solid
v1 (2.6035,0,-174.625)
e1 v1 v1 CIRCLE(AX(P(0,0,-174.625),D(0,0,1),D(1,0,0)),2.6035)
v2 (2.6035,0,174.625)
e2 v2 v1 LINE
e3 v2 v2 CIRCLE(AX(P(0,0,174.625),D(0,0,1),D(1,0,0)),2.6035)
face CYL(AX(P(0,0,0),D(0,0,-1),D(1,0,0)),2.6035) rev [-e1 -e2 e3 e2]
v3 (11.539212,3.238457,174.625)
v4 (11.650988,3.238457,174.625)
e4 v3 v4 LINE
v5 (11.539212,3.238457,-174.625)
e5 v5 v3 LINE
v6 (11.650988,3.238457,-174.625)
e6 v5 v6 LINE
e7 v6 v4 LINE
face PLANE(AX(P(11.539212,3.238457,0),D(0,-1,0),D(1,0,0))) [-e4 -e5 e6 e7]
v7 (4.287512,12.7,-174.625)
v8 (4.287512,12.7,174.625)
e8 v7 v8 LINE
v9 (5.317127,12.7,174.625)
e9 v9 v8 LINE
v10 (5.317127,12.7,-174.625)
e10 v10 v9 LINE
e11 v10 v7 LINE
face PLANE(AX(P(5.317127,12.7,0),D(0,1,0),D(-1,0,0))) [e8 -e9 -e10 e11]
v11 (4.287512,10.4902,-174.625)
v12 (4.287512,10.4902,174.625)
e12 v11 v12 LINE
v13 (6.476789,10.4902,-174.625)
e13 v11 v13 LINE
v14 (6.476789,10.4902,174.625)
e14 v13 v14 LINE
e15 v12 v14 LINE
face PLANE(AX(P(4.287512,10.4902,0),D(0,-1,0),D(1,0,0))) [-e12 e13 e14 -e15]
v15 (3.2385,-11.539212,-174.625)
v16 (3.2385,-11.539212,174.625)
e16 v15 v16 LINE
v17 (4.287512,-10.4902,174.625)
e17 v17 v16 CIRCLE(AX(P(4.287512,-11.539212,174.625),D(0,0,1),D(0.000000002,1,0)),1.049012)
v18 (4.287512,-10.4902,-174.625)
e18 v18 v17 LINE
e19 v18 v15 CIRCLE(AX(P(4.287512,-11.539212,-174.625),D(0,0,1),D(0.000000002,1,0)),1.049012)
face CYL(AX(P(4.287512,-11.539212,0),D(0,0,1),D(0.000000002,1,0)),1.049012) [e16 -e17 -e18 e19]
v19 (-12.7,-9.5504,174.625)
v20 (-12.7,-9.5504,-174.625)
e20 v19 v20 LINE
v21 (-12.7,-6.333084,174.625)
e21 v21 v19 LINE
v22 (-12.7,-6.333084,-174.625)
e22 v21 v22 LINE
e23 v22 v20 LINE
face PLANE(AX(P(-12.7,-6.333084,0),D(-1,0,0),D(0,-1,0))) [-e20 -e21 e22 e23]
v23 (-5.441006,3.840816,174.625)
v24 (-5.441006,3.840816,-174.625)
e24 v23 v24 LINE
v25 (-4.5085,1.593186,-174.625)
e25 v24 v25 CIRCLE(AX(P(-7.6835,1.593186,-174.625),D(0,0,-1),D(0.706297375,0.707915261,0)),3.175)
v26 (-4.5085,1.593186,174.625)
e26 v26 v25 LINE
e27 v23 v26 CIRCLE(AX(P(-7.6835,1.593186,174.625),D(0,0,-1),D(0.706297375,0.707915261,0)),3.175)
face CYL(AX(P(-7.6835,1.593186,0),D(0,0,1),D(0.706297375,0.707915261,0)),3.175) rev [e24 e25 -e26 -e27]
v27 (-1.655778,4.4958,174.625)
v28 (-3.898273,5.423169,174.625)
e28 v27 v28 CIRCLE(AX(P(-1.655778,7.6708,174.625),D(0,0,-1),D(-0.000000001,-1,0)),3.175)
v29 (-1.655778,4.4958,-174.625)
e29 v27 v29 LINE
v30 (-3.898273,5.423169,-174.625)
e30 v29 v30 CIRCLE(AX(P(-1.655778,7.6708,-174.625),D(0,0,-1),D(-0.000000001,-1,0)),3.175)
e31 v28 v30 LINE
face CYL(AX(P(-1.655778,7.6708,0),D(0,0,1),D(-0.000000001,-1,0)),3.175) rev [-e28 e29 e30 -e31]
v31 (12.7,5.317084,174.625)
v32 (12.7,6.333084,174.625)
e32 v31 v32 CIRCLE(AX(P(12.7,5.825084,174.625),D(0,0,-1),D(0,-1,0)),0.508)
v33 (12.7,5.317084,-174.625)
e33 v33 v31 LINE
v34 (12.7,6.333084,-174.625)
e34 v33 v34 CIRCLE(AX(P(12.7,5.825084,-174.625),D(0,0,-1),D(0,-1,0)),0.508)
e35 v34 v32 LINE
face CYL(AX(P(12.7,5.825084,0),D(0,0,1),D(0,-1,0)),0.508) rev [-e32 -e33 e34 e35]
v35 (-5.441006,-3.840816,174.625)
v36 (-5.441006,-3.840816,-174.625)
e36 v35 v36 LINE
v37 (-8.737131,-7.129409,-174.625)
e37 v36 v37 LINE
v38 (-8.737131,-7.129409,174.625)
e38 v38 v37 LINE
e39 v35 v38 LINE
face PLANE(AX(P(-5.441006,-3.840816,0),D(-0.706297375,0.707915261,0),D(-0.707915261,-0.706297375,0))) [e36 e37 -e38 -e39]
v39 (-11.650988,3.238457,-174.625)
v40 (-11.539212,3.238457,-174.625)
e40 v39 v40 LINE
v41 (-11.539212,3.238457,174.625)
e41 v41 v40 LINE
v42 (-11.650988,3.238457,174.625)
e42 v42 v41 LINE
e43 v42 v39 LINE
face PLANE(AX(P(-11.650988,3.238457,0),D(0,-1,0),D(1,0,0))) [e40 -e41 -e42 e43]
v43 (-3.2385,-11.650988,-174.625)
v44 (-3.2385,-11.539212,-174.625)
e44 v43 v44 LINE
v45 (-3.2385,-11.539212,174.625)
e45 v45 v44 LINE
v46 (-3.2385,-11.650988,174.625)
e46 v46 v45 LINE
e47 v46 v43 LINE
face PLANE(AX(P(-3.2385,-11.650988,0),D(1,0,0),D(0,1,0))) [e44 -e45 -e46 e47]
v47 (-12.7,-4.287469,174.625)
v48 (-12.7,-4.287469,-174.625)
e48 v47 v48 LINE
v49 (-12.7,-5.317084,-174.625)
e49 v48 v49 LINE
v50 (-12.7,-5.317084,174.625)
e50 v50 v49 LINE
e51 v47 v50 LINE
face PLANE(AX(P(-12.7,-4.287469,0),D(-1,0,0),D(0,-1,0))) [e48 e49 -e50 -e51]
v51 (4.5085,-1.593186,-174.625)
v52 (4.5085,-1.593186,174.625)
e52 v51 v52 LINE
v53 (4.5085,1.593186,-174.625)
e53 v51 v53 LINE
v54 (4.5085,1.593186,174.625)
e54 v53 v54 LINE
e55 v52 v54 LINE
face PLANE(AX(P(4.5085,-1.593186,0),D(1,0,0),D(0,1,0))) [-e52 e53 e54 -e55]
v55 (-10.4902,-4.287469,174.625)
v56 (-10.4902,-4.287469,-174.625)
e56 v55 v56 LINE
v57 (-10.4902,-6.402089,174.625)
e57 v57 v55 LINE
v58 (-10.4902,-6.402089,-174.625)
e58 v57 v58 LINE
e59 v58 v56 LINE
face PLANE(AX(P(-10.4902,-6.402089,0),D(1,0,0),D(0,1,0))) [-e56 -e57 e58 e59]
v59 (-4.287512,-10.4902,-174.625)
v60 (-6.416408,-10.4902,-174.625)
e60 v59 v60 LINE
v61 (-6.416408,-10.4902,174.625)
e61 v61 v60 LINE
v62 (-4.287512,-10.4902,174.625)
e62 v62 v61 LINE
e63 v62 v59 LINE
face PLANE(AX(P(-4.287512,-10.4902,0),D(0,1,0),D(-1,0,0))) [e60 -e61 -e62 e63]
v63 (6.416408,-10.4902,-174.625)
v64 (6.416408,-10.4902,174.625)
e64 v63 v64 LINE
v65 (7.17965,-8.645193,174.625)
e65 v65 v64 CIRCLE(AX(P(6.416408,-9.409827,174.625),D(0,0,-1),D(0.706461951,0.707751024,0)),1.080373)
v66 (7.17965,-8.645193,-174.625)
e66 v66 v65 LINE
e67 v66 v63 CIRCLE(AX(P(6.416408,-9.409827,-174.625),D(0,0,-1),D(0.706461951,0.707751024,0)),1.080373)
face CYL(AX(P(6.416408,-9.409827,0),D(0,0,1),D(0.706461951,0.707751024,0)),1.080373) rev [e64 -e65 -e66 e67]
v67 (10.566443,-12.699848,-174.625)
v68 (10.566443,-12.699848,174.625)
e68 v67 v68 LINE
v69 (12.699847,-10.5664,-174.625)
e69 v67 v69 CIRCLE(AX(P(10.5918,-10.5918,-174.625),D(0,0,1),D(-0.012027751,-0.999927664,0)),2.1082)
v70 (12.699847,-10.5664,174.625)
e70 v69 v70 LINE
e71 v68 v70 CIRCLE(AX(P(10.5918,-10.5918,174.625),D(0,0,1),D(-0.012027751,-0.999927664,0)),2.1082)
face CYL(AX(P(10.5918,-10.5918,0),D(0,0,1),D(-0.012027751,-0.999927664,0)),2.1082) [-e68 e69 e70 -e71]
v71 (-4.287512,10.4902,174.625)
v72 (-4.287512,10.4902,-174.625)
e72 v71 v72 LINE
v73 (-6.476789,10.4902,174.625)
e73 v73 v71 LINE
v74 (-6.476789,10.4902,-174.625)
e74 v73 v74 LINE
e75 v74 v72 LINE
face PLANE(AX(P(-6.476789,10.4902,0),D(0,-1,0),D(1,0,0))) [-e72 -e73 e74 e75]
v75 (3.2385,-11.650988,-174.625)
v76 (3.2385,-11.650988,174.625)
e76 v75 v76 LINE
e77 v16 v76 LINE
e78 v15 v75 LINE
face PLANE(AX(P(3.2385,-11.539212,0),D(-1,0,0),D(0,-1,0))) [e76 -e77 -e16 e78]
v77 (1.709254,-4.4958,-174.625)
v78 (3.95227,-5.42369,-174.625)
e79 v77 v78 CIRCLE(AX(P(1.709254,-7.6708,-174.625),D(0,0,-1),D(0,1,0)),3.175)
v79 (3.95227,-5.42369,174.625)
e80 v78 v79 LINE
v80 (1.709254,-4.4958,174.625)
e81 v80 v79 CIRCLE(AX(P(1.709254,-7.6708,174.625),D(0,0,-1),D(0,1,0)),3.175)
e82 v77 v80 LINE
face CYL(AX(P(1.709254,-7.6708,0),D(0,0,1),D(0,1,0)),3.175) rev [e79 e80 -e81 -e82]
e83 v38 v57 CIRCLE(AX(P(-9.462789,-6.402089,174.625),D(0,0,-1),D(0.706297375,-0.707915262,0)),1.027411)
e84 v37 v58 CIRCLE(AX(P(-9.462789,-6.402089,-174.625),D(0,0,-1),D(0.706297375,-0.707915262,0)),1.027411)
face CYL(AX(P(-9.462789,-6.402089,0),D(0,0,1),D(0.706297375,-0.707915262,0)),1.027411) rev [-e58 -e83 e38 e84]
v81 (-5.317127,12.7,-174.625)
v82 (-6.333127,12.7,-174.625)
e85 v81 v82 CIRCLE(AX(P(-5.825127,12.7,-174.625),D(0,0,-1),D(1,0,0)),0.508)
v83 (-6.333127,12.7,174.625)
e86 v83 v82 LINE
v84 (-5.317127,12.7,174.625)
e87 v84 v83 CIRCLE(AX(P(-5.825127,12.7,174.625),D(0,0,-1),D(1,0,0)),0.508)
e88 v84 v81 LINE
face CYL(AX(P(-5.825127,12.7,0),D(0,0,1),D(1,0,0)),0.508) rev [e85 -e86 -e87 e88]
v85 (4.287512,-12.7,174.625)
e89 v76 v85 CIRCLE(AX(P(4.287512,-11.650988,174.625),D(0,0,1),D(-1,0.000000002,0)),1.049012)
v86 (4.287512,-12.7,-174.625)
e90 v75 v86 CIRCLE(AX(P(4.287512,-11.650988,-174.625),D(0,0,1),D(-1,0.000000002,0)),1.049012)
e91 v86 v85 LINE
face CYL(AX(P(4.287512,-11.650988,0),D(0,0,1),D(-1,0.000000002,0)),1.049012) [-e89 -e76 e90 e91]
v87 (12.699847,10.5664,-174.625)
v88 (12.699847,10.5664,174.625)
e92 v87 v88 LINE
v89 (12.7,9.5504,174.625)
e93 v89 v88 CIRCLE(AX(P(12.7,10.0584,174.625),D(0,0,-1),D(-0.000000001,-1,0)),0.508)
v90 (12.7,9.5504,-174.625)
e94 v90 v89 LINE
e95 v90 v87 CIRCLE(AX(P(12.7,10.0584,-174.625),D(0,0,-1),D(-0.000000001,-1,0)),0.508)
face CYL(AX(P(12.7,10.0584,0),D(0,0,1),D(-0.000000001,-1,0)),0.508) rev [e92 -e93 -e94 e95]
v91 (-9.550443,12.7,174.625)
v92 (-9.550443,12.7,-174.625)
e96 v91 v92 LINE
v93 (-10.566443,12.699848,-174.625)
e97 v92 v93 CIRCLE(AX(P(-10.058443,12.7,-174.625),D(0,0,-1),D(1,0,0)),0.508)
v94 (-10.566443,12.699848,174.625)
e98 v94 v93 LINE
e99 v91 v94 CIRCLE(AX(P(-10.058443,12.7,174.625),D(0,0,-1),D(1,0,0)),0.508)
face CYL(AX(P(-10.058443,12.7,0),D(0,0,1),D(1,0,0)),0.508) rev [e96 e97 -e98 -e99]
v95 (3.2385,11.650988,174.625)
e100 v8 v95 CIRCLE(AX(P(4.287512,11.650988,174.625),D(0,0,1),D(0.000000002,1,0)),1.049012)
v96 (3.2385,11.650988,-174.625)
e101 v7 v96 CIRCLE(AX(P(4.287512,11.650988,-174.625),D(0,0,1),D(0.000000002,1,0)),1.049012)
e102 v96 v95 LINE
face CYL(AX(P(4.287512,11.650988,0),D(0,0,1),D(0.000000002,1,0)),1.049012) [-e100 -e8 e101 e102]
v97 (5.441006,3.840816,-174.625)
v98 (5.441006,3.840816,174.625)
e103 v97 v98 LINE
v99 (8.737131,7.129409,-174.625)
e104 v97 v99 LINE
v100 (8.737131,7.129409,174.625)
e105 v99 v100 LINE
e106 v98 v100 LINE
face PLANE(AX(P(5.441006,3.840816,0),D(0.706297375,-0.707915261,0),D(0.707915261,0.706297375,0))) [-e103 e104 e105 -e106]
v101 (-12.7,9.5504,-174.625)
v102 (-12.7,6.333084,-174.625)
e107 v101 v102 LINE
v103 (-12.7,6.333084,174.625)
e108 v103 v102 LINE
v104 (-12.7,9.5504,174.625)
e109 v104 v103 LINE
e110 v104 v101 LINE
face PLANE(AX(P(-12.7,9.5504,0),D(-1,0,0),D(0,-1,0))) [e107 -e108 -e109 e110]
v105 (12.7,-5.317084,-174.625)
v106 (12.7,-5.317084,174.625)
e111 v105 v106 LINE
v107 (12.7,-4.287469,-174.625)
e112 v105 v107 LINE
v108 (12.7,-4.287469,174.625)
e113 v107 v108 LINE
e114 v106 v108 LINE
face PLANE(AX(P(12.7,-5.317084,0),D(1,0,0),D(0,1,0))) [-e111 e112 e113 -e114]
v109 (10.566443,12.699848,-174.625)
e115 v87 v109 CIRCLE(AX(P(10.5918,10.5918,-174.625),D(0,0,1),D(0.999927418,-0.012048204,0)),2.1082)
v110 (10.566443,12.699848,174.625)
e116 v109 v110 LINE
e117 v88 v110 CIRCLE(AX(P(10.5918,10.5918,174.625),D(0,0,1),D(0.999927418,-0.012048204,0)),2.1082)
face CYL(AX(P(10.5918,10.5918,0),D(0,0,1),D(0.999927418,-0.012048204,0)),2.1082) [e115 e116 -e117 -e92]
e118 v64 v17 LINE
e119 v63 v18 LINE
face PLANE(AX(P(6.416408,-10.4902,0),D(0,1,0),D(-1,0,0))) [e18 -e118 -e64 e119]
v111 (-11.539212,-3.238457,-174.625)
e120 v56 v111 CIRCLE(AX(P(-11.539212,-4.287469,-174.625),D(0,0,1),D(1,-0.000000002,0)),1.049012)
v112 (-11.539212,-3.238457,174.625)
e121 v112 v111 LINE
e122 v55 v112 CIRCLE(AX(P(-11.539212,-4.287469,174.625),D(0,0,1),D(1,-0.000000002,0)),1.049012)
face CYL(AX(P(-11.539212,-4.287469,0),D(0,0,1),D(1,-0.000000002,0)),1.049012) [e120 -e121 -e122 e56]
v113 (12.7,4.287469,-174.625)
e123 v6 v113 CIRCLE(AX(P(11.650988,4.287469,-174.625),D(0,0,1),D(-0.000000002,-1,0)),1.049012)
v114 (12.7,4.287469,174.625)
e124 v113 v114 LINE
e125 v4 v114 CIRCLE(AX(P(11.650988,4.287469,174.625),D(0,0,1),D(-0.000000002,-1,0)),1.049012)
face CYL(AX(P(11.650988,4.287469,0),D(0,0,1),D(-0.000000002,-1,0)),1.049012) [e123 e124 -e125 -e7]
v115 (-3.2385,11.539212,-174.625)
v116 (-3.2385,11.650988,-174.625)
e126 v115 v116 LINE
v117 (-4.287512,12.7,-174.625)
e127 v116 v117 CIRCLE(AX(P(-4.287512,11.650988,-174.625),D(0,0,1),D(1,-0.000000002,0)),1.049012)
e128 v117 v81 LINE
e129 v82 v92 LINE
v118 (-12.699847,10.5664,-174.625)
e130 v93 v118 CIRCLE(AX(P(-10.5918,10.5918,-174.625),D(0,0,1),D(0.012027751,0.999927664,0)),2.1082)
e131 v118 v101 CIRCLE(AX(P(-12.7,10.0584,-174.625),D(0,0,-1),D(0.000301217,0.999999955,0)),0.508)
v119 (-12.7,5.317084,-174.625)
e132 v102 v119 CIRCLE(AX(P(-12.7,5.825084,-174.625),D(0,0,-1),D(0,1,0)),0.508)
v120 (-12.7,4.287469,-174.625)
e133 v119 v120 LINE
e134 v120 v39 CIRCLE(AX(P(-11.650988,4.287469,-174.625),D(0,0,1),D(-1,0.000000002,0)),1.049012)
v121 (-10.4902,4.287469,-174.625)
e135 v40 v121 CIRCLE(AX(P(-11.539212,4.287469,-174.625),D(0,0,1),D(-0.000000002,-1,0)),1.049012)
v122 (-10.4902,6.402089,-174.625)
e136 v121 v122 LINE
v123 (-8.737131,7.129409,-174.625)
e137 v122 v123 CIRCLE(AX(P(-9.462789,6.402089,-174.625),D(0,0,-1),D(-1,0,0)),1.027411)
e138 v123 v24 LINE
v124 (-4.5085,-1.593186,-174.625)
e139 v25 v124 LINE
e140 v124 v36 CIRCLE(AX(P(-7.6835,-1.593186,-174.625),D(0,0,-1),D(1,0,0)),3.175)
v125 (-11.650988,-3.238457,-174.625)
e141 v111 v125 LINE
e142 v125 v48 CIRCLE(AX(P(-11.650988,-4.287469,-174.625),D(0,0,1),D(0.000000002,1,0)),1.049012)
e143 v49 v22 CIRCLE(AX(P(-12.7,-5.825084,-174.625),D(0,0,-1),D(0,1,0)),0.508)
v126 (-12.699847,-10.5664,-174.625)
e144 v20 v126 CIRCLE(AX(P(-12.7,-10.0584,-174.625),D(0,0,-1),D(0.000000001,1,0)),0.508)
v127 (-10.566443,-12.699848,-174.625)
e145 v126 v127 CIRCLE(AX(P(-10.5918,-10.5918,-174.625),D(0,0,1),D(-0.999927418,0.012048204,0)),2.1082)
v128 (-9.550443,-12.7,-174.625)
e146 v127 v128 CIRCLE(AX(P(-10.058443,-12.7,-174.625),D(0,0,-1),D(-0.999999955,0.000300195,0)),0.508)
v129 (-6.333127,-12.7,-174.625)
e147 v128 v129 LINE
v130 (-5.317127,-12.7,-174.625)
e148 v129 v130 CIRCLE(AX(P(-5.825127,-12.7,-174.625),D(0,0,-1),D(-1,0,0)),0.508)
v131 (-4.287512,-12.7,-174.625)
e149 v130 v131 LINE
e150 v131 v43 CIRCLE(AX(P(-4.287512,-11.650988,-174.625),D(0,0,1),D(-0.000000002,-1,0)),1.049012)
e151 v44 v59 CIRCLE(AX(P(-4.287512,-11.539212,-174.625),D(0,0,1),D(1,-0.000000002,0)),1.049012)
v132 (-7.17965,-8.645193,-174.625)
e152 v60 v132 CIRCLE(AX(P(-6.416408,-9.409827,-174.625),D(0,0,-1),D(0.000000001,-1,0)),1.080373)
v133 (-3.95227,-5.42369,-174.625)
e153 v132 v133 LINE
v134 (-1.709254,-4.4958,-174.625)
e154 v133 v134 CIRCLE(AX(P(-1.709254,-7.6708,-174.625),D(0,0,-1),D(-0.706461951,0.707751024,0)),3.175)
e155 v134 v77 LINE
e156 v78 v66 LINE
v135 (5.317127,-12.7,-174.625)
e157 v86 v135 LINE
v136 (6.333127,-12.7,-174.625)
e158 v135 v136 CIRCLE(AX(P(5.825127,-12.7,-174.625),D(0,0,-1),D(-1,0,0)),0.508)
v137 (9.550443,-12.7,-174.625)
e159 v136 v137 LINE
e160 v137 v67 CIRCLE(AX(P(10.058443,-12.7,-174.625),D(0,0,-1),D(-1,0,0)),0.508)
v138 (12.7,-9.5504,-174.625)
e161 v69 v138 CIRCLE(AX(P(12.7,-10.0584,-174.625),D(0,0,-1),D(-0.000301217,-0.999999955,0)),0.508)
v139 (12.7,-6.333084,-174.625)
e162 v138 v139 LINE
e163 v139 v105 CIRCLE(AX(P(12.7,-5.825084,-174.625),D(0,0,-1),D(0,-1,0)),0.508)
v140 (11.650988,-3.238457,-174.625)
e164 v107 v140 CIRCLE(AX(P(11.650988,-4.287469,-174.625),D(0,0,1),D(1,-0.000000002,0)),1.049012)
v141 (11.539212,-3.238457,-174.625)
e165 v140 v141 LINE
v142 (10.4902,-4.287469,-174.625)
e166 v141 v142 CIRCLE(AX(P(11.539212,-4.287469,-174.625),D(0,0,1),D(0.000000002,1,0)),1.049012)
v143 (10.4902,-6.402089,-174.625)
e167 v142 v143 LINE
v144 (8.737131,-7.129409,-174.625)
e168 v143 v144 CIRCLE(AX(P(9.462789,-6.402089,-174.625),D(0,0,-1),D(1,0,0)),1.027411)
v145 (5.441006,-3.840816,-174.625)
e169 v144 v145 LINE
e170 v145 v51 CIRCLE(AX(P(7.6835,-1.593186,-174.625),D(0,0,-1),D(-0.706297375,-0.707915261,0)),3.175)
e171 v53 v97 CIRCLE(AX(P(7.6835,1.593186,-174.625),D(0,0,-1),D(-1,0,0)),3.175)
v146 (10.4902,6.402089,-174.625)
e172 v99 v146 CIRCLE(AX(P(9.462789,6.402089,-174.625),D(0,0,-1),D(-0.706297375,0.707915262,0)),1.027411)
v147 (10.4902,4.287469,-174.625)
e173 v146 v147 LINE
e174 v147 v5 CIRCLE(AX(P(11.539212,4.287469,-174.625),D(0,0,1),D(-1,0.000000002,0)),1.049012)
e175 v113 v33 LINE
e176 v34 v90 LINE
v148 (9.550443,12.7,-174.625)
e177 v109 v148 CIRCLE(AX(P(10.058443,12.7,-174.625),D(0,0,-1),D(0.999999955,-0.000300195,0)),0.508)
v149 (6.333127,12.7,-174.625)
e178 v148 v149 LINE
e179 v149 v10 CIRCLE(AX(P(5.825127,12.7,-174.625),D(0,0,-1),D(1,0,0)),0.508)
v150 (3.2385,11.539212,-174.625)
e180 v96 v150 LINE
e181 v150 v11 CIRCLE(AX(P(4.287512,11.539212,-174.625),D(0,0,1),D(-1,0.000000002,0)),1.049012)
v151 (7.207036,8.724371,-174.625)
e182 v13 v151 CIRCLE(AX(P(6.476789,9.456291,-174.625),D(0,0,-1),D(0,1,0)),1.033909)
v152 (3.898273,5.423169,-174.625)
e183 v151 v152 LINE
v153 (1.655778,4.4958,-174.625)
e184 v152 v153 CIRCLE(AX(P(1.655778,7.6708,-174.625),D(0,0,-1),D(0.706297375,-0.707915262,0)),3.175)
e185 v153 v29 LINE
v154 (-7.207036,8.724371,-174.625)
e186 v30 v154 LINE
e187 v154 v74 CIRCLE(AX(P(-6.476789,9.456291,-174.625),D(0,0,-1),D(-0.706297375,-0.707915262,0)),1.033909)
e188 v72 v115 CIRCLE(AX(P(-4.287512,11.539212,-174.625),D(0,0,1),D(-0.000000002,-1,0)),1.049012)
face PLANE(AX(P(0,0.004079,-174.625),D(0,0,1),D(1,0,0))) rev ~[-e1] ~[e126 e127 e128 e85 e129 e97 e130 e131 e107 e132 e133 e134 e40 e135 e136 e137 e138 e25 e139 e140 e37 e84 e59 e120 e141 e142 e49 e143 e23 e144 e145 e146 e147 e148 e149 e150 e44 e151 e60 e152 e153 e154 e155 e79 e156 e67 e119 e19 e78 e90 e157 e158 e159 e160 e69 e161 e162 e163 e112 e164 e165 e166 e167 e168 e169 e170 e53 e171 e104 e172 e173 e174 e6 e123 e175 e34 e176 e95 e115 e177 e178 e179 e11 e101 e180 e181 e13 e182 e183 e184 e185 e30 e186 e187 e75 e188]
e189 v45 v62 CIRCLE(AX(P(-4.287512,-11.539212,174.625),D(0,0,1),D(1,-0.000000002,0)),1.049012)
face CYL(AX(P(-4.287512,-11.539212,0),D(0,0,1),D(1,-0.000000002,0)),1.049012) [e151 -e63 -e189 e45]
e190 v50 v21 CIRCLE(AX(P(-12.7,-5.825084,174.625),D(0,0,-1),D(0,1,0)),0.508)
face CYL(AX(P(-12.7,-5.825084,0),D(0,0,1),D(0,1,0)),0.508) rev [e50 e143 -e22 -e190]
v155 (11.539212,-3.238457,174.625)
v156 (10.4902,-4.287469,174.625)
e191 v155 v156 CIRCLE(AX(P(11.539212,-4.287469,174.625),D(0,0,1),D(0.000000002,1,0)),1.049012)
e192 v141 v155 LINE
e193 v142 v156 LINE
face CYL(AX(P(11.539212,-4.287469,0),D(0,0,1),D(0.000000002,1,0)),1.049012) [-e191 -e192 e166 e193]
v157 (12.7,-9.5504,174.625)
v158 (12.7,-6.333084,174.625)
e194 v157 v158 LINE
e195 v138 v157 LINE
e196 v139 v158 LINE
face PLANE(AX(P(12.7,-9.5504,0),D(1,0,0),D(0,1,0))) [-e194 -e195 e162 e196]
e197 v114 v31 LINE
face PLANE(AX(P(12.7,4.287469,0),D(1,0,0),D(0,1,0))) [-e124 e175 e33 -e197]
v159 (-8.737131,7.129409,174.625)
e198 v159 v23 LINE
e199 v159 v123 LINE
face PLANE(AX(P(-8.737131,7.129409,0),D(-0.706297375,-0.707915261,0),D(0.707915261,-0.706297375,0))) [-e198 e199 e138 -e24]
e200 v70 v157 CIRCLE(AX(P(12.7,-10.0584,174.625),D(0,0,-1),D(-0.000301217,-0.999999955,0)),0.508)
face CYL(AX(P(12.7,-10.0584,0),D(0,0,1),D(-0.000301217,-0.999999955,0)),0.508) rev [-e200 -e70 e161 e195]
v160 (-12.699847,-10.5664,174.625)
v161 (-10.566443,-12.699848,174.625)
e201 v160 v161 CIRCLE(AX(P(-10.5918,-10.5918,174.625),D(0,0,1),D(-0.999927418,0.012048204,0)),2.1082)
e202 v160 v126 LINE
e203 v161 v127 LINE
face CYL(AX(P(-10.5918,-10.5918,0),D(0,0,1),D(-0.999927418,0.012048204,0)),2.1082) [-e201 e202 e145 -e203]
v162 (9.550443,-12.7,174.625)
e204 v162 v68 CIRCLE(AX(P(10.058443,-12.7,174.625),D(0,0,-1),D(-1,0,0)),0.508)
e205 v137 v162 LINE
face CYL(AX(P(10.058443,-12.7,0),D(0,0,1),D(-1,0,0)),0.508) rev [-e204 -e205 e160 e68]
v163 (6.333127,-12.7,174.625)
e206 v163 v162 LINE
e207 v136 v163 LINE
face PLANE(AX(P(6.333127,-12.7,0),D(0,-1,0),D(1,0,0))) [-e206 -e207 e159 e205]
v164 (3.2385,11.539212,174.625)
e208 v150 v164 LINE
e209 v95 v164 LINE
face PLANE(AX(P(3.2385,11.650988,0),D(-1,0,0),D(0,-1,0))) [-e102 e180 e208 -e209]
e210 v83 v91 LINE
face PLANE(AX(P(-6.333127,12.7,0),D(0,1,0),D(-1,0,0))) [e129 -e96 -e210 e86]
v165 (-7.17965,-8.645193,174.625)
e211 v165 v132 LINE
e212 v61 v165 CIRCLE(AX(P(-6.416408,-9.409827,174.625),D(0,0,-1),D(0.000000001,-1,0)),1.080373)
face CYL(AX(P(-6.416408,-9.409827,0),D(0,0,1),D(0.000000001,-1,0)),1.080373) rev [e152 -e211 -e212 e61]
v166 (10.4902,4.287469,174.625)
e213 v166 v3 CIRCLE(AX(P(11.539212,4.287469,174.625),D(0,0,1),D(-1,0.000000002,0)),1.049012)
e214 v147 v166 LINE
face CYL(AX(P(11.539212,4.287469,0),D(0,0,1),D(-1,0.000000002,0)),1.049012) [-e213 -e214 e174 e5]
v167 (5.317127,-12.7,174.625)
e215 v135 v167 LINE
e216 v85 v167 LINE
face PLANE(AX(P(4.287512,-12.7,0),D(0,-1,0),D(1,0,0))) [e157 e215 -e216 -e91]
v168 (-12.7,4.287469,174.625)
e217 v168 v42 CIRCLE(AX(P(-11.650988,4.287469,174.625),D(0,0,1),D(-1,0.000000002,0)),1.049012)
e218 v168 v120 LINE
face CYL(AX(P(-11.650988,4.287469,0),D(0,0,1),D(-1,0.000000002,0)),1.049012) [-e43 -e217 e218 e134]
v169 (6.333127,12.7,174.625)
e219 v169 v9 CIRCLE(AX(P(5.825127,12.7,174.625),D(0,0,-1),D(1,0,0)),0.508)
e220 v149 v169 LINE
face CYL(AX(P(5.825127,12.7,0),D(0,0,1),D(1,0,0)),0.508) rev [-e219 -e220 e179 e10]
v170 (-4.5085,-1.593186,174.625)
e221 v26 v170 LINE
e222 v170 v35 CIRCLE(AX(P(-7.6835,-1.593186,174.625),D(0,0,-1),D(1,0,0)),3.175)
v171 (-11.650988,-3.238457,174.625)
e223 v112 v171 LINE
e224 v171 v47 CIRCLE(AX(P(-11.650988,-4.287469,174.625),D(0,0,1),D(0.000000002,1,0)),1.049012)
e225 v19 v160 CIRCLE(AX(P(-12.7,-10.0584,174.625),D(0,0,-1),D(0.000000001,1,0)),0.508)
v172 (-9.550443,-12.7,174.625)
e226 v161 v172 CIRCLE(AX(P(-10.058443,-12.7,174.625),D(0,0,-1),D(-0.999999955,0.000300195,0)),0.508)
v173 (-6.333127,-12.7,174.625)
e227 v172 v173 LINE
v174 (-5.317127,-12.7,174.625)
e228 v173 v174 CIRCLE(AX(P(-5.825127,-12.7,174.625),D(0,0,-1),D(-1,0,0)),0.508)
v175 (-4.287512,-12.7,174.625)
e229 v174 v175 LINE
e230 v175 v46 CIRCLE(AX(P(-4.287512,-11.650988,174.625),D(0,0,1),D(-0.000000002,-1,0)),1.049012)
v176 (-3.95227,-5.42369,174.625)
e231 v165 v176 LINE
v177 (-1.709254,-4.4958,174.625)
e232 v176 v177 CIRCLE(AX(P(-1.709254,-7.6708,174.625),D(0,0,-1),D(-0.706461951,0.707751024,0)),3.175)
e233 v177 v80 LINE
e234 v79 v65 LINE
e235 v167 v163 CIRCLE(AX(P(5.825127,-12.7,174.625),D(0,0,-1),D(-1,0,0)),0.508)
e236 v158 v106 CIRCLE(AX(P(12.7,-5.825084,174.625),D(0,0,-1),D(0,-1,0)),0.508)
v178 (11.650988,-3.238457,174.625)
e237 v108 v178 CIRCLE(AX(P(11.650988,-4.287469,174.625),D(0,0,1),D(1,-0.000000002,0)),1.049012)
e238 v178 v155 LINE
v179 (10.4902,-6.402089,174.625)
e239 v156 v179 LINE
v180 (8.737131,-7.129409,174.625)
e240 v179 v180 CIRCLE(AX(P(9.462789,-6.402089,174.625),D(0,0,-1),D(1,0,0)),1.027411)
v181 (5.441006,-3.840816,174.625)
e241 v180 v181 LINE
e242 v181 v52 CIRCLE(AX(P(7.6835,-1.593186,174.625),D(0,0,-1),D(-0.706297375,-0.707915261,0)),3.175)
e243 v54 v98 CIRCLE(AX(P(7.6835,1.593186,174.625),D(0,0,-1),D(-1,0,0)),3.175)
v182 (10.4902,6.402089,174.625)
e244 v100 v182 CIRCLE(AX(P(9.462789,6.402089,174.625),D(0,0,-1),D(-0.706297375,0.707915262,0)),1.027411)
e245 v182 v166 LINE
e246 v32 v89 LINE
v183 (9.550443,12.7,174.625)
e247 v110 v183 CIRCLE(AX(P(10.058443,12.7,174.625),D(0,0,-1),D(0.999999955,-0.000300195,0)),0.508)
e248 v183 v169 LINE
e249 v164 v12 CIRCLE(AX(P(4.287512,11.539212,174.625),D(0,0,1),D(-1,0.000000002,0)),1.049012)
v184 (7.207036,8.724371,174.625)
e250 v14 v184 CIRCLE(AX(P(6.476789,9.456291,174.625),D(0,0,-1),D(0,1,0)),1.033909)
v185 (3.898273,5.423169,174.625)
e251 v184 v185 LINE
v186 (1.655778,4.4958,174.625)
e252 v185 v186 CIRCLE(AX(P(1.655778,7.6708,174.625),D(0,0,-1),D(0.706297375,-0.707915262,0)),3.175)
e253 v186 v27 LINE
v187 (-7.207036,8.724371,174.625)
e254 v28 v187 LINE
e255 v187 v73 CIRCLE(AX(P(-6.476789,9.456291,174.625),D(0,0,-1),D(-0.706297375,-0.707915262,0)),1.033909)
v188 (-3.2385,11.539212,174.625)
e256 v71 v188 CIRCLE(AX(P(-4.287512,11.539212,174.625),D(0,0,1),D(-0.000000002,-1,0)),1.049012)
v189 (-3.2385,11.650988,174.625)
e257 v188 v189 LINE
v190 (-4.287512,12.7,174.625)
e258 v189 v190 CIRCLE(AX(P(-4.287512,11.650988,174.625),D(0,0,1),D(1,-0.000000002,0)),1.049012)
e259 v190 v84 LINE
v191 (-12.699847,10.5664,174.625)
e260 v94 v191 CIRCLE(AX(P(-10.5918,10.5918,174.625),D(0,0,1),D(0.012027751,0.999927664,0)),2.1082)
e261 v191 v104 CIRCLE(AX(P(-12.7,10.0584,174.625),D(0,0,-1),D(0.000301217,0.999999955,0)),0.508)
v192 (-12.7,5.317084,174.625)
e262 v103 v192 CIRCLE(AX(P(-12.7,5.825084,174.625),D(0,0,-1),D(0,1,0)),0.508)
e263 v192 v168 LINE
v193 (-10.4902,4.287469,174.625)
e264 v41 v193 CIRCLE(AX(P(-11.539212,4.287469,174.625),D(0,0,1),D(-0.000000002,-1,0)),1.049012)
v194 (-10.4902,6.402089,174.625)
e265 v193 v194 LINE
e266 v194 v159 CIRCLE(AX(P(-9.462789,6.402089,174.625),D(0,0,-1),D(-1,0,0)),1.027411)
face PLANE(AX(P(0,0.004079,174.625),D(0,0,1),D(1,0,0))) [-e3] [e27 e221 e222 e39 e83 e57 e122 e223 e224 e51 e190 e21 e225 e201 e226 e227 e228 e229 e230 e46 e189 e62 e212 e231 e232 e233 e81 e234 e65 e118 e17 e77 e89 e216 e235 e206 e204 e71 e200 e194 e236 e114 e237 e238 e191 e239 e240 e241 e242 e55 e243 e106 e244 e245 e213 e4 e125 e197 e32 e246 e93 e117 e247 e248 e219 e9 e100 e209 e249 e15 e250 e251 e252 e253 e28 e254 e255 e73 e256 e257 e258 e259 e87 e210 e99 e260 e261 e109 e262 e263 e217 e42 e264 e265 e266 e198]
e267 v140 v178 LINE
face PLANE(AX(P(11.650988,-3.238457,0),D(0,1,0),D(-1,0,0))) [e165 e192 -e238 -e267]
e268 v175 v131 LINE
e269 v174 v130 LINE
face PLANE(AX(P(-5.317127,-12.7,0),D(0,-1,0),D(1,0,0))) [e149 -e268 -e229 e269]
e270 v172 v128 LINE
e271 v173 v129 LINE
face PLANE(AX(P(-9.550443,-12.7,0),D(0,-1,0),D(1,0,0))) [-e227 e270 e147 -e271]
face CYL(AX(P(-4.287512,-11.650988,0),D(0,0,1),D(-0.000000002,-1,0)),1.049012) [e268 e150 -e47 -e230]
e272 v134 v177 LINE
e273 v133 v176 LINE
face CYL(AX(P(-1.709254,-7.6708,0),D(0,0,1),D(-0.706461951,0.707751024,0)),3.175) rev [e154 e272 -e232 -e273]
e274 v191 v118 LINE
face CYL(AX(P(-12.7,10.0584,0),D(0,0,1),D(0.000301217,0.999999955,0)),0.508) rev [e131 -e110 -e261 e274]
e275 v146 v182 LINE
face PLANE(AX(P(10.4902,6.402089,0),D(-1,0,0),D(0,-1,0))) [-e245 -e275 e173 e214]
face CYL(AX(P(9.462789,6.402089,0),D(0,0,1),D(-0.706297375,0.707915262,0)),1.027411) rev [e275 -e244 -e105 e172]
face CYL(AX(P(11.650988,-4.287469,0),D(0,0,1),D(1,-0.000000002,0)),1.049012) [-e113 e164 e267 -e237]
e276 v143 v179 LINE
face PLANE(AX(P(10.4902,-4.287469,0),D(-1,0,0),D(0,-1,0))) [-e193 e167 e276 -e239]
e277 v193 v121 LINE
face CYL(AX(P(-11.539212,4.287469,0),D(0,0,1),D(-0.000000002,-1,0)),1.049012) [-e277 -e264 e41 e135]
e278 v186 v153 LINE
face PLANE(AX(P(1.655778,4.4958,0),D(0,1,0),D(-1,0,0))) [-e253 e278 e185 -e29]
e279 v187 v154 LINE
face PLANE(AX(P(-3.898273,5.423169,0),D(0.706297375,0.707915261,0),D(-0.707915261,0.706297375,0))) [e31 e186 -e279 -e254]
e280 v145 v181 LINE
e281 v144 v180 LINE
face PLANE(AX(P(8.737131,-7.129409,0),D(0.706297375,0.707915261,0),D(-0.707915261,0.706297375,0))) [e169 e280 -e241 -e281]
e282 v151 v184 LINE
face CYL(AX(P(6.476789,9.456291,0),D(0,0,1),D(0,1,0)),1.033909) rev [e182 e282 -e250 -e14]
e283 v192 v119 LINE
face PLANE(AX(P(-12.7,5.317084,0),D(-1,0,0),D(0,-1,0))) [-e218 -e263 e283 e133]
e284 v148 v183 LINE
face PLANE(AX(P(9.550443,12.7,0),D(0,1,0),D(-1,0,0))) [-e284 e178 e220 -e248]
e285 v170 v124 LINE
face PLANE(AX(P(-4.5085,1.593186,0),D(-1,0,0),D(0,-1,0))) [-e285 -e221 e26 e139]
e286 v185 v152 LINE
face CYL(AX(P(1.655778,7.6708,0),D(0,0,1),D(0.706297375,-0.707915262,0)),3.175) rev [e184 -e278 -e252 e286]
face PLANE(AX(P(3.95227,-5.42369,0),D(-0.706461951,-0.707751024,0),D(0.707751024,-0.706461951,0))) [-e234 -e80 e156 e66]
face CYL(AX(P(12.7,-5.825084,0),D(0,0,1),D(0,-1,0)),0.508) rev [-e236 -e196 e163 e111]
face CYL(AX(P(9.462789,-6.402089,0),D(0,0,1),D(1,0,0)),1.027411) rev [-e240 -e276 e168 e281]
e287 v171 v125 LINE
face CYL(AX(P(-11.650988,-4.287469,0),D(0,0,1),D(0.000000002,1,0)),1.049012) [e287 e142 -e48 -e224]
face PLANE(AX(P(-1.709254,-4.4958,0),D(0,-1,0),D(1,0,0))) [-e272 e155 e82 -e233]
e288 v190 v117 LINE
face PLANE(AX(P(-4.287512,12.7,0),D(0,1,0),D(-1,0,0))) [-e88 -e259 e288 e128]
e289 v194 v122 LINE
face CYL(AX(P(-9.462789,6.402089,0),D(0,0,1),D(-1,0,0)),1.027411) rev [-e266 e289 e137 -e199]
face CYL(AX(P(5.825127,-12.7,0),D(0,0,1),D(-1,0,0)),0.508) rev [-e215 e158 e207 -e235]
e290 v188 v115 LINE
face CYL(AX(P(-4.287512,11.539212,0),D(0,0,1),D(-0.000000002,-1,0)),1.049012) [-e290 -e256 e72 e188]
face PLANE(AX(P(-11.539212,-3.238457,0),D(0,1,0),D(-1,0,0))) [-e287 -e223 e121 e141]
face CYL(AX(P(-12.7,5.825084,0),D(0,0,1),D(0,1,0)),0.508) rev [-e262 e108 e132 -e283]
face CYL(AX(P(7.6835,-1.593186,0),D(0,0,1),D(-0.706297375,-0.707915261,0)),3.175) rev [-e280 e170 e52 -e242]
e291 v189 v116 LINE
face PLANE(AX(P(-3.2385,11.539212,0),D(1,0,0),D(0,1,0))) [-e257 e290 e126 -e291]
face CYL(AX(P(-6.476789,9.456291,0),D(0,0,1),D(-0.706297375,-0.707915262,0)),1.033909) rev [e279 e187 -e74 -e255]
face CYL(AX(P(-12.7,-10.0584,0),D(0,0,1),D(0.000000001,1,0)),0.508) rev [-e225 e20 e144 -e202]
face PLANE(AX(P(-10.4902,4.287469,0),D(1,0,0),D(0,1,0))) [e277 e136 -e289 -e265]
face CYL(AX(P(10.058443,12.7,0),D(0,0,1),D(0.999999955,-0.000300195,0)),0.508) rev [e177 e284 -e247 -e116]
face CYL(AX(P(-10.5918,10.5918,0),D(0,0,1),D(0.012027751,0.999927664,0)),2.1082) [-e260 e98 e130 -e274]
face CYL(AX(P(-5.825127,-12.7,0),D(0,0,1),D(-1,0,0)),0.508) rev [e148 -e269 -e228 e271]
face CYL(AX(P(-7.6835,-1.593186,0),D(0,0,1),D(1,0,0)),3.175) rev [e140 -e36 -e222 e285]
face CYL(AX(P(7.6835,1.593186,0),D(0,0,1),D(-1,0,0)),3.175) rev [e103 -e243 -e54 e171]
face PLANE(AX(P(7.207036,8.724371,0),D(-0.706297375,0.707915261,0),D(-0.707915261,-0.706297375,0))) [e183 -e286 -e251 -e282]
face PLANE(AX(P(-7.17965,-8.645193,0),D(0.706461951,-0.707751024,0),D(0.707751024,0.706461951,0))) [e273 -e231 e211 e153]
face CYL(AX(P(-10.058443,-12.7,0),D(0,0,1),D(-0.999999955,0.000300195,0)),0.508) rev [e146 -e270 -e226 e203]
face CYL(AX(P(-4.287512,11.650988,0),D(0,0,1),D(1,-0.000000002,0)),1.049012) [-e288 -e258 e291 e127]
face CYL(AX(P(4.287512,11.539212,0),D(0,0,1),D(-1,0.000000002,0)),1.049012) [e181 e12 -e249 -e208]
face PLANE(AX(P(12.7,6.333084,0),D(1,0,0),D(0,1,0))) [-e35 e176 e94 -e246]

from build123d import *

# Parameters (mm, degrees)
SKETCH1_R           = 2.6035
BOSS_EXTRUDE1_DEPTH = 174.625


with BuildPart() as part:
    # Sketch1 → Boss-Extrude1 (new body, symmetric)
    with BuildSketch(Plane.XY):
        with BuildLine():
            Line((-7.179650497, -8.645192506), (-3.952270251, -5.423690499))
            ThreePointArc((-3.952270251, -5.423690499), (-2.922936451, -4.736929036), (-1.709253557, -4.4958))
            Line((-1.709253557, -4.4958), (1.709253557, -4.4958))
            ThreePointArc((1.709253557, -4.4958), (2.922936451, -4.736929036), (3.952270251, -5.423690499))
            Line((3.952270251, -5.423690499), (7.179650497, -8.645192506))
            ThreePointArc((7.179650497, -8.645192506), (7.41473083, -9.822813117), (6.416408329, -10.4902))
            Line((6.416408329, -10.4902), (4.287512407, -10.4902))
            ThreePointArc((4.287512407, -10.4902), (3.54574862, -10.79744862), (3.2385, -11.539212407))
            Line((3.2385, -11.539212407), (3.2385, -11.650987593))
            ThreePointArc((3.2385, -11.650987593), (3.54574862, -12.39275138), (4.287512407, -12.7))
            Line((4.287512407, -12.7), (5.317126718, -12.7))
            ThreePointArc((5.317126718, -12.7), (5.825126718, -12.192), (6.333126718, -12.7))
            Line((6.333126718, -12.7), (9.550443118, -12.7))
            ThreePointArc((9.550443118, -12.7), (10.058366869, -12.192000006), (10.566443095, -12.699847501))
            ThreePointArc((10.566443095, -12.699847501), (12.082537762, -12.08250727), (12.699846982, -10.566399977))
            ThreePointArc((12.699846982, -10.566399977), (12.192000006, -10.058323491), (12.7, -9.5504))
            Line((12.7, -9.5504), (12.7, -6.3330836))
            ThreePointArc((12.7, -6.3330836), (12.192, -5.8250836), (12.7, -5.3170836))
            Line((12.7, -5.3170836), (12.7, -4.287469289))
            ThreePointArc((12.7, -4.287469289), (12.39275138, -3.545705502), (11.650987593, -3.238456882))
            Line((11.650987593, -3.238456882), (11.539212407, -3.238456882))
            ThreePointArc((11.539212407, -3.238456882), (10.79744862, -3.545705502), (10.4902, -4.287469289))
            Line((10.4902, -4.287469289), (10.4902, -6.402089023))
            ThreePointArc((10.4902, -6.402089023), (9.856505071, -7.351067942), (8.737131347, -7.129408934))
            Line((8.737131347, -7.129408934), (5.441005833, -3.840816462))
            ThreePointArc((5.441005833, -3.840816462), (4.750877967, -2.809883091), (4.5085, -1.593185507))
            Line((4.5085, -1.593185507), (4.5085, 1.593185507))
            ThreePointArc((4.5085, 1.593185507), (4.750877967, 2.809883091), (5.441005833, 3.840816462))
            Line((5.441005833, 3.840816462), (8.737131347, 7.129408934))
            ThreePointArc((8.737131347, 7.129408934), (9.856505071, 7.351067942), (10.4902, 6.402089023))
            Line((10.4902, 6.402089023), (10.4902, 4.287469289))
            ThreePointArc((10.4902, 4.287469289), (10.79744862, 3.545705502), (11.539212407, 3.238456882))
            Line((11.539212407, 3.238456882), (11.650987593, 3.238456882))
            ThreePointArc((11.650987593, 3.238456882), (12.39275138, 3.545705502), (12.7, 4.287469289))
            Line((12.7, 4.287469289), (12.7, 5.3170836))
            ThreePointArc((12.7, 5.3170836), (12.192, 5.8250836), (12.7, 6.3330836))
            Line((12.7, 6.3330836), (12.7, 9.5504))
            ThreePointArc((12.7, 9.5504), (12.192000006, 10.058323491), (12.699846982, 10.566399977))
            ThreePointArc((12.699846982, 10.566399977), (12.082537762, 12.08250727), (10.566443095, 12.699847501))
            ThreePointArc((10.566443095, 12.699847501), (10.058366869, 12.192000006), (9.550443118, 12.7))
            Line((9.550443118, 12.7), (6.333126718, 12.7))
            ThreePointArc((6.333126718, 12.7), (5.825126718, 12.192), (5.317126718, 12.7))
            Line((5.317126718, 12.7), (4.287512407, 12.7))
            ThreePointArc((4.287512407, 12.7), (3.54574862, 12.39275138), (3.2385, 11.650987593))
            Line((3.2385, 11.650987593), (3.2385, 11.539212407))
            ThreePointArc((3.2385, 11.539212407), (3.54574862, 10.79744862), (4.287512407, 10.4902))
            Line((4.287512407, 10.4902), (6.476788598, 10.4902))
            ThreePointArc((6.476788598, 10.4902), (7.432222385, 9.85140422), (7.207036008, 8.724370562))
            Line((7.207036008, 8.724370562), (3.898272566, 5.423169045))
            ThreePointArc((3.898272566, 5.423169045), (2.869120213, 4.736787962), (1.655778399, 4.4958))
            Line((1.655778399, 4.4958), (-1.655778399, 4.4958))
            ThreePointArc((-1.655778399, 4.4958), (-2.869120213, 4.736787962), (-3.898272566, 5.423169045))
            Line((-3.898272566, 5.423169045), (-7.207036008, 8.724370562))
            ThreePointArc((-7.207036008, 8.724370562), (-7.432222385, 9.85140422), (-6.476788598, 10.4902))
            Line((-6.476788598, 10.4902), (-4.287512407, 10.4902))
            ThreePointArc((-4.287512407, 10.4902), (-3.54574862, 10.79744862), (-3.2385, 11.539212407))
            Line((-3.2385, 11.539212407), (-3.2385, 11.650987593))
            ThreePointArc((-3.2385, 11.650987593), (-3.54574862, 12.39275138), (-4.287512407, 12.7))
            Line((-4.287512407, 12.7), (-5.317126718, 12.7))
            ThreePointArc((-5.317126718, 12.7), (-5.825126718, 12.192), (-6.333126718, 12.7))
            Line((-6.333126718, 12.7), (-9.550443118, 12.7))
            ThreePointArc((-9.550443118, 12.7), (-10.058366869, 12.192000006), (-10.566443095, 12.699847501))
            ThreePointArc((-10.566443095, 12.699847501), (-12.082537762, 12.08250727), (-12.699846982, 10.566399977))
            ThreePointArc((-12.699846982, 10.566399977), (-12.192000006, 10.058323491), (-12.7, 9.5504))
            Line((-12.7, 9.5504), (-12.7, 6.3330836))
            ThreePointArc((-12.7, 6.3330836), (-12.192, 5.8250836), (-12.7, 5.3170836))
            Line((-12.7, 5.3170836), (-12.7, 4.287469289))
            ThreePointArc((-12.7, 4.287469289), (-12.39275138, 3.545705502), (-11.650987593, 3.238456882))
            Line((-11.650987593, 3.238456882), (-11.539212407, 3.238456882))
            ThreePointArc((-11.539212407, 3.238456882), (-10.79744862, 3.545705502), (-10.4902, 4.287469289))
            Line((-10.4902, 4.287469289), (-10.4902, 6.402089023))
            ThreePointArc((-10.4902, 6.402089023), (-9.856505071, 7.351067942), (-8.737131347, 7.129408934))
            Line((-8.737131347, 7.129408934), (-5.441005833, 3.840816462))
            ThreePointArc((-5.441005833, 3.840816462), (-4.750877967, 2.809883091), (-4.5085, 1.593185507))
            Line((-4.5085, 1.593185507), (-4.5085, -1.593185507))
            ThreePointArc((-4.5085, -1.593185507), (-4.750877967, -2.809883091), (-5.441005833, -3.840816462))
            Line((-5.441005833, -3.840816462), (-8.737131347, -7.129408934))
            ThreePointArc((-8.737131347, -7.129408934), (-9.856505071, -7.351067942), (-10.4902, -6.402089023))
            Line((-10.4902, -6.402089023), (-10.4902, -4.287469289))
            ThreePointArc((-10.4902, -4.287469289), (-10.79744862, -3.545705502), (-11.539212407, -3.238456882))
            Line((-11.539212407, -3.238456882), (-11.650987593, -3.238456882))
            ThreePointArc((-11.650987593, -3.238456882), (-12.39275138, -3.545705502), (-12.7, -4.287469289))
            Line((-12.7, -4.287469289), (-12.7, -5.3170836))
            ThreePointArc((-12.7, -5.3170836), (-12.192, -5.8250836), (-12.7, -6.3330836))
            Line((-12.7, -6.3330836), (-12.7, -9.5504))
            ThreePointArc((-12.7, -9.5504), (-12.192000006, -10.058323491), (-12.699846982, -10.566399977))
            ThreePointArc((-12.699846982, -10.566399977), (-12.082537762, -12.08250727), (-10.566443095, -12.699847501))
            ThreePointArc((-10.566443095, -12.699847501), (-10.058366869, -12.192000006), (-9.550443118, -12.7))
            Line((-9.550443118, -12.7), (-6.333126718, -12.7))
            ThreePointArc((-6.333126718, -12.7), (-5.825126718, -12.192), (-5.317126718, -12.7))
            Line((-5.317126718, -12.7), (-4.287512407, -12.7))
            ThreePointArc((-4.287512407, -12.7), (-3.54574862, -12.39275138), (-3.2385, -11.650987593))
            Line((-3.2385, -11.650987593), (-3.2385, -11.539212407))
            ThreePointArc((-3.2385, -11.539212407), (-3.54574862, -10.79744862), (-4.287512407, -10.4902))
            Line((-4.287512407, -10.4902), (-6.416408329, -10.4902))
            ThreePointArc((-6.416408329, -10.4902), (-7.41473083, -9.822813117), (-7.179650497, -8.645192506))
        make_face()
        Circle(SKETCH1_R, mode=Mode.SUBTRACT)
    extrude(amount=BOSS_EXTRUDE1_DEPTH, both=True)


solid = part.part
